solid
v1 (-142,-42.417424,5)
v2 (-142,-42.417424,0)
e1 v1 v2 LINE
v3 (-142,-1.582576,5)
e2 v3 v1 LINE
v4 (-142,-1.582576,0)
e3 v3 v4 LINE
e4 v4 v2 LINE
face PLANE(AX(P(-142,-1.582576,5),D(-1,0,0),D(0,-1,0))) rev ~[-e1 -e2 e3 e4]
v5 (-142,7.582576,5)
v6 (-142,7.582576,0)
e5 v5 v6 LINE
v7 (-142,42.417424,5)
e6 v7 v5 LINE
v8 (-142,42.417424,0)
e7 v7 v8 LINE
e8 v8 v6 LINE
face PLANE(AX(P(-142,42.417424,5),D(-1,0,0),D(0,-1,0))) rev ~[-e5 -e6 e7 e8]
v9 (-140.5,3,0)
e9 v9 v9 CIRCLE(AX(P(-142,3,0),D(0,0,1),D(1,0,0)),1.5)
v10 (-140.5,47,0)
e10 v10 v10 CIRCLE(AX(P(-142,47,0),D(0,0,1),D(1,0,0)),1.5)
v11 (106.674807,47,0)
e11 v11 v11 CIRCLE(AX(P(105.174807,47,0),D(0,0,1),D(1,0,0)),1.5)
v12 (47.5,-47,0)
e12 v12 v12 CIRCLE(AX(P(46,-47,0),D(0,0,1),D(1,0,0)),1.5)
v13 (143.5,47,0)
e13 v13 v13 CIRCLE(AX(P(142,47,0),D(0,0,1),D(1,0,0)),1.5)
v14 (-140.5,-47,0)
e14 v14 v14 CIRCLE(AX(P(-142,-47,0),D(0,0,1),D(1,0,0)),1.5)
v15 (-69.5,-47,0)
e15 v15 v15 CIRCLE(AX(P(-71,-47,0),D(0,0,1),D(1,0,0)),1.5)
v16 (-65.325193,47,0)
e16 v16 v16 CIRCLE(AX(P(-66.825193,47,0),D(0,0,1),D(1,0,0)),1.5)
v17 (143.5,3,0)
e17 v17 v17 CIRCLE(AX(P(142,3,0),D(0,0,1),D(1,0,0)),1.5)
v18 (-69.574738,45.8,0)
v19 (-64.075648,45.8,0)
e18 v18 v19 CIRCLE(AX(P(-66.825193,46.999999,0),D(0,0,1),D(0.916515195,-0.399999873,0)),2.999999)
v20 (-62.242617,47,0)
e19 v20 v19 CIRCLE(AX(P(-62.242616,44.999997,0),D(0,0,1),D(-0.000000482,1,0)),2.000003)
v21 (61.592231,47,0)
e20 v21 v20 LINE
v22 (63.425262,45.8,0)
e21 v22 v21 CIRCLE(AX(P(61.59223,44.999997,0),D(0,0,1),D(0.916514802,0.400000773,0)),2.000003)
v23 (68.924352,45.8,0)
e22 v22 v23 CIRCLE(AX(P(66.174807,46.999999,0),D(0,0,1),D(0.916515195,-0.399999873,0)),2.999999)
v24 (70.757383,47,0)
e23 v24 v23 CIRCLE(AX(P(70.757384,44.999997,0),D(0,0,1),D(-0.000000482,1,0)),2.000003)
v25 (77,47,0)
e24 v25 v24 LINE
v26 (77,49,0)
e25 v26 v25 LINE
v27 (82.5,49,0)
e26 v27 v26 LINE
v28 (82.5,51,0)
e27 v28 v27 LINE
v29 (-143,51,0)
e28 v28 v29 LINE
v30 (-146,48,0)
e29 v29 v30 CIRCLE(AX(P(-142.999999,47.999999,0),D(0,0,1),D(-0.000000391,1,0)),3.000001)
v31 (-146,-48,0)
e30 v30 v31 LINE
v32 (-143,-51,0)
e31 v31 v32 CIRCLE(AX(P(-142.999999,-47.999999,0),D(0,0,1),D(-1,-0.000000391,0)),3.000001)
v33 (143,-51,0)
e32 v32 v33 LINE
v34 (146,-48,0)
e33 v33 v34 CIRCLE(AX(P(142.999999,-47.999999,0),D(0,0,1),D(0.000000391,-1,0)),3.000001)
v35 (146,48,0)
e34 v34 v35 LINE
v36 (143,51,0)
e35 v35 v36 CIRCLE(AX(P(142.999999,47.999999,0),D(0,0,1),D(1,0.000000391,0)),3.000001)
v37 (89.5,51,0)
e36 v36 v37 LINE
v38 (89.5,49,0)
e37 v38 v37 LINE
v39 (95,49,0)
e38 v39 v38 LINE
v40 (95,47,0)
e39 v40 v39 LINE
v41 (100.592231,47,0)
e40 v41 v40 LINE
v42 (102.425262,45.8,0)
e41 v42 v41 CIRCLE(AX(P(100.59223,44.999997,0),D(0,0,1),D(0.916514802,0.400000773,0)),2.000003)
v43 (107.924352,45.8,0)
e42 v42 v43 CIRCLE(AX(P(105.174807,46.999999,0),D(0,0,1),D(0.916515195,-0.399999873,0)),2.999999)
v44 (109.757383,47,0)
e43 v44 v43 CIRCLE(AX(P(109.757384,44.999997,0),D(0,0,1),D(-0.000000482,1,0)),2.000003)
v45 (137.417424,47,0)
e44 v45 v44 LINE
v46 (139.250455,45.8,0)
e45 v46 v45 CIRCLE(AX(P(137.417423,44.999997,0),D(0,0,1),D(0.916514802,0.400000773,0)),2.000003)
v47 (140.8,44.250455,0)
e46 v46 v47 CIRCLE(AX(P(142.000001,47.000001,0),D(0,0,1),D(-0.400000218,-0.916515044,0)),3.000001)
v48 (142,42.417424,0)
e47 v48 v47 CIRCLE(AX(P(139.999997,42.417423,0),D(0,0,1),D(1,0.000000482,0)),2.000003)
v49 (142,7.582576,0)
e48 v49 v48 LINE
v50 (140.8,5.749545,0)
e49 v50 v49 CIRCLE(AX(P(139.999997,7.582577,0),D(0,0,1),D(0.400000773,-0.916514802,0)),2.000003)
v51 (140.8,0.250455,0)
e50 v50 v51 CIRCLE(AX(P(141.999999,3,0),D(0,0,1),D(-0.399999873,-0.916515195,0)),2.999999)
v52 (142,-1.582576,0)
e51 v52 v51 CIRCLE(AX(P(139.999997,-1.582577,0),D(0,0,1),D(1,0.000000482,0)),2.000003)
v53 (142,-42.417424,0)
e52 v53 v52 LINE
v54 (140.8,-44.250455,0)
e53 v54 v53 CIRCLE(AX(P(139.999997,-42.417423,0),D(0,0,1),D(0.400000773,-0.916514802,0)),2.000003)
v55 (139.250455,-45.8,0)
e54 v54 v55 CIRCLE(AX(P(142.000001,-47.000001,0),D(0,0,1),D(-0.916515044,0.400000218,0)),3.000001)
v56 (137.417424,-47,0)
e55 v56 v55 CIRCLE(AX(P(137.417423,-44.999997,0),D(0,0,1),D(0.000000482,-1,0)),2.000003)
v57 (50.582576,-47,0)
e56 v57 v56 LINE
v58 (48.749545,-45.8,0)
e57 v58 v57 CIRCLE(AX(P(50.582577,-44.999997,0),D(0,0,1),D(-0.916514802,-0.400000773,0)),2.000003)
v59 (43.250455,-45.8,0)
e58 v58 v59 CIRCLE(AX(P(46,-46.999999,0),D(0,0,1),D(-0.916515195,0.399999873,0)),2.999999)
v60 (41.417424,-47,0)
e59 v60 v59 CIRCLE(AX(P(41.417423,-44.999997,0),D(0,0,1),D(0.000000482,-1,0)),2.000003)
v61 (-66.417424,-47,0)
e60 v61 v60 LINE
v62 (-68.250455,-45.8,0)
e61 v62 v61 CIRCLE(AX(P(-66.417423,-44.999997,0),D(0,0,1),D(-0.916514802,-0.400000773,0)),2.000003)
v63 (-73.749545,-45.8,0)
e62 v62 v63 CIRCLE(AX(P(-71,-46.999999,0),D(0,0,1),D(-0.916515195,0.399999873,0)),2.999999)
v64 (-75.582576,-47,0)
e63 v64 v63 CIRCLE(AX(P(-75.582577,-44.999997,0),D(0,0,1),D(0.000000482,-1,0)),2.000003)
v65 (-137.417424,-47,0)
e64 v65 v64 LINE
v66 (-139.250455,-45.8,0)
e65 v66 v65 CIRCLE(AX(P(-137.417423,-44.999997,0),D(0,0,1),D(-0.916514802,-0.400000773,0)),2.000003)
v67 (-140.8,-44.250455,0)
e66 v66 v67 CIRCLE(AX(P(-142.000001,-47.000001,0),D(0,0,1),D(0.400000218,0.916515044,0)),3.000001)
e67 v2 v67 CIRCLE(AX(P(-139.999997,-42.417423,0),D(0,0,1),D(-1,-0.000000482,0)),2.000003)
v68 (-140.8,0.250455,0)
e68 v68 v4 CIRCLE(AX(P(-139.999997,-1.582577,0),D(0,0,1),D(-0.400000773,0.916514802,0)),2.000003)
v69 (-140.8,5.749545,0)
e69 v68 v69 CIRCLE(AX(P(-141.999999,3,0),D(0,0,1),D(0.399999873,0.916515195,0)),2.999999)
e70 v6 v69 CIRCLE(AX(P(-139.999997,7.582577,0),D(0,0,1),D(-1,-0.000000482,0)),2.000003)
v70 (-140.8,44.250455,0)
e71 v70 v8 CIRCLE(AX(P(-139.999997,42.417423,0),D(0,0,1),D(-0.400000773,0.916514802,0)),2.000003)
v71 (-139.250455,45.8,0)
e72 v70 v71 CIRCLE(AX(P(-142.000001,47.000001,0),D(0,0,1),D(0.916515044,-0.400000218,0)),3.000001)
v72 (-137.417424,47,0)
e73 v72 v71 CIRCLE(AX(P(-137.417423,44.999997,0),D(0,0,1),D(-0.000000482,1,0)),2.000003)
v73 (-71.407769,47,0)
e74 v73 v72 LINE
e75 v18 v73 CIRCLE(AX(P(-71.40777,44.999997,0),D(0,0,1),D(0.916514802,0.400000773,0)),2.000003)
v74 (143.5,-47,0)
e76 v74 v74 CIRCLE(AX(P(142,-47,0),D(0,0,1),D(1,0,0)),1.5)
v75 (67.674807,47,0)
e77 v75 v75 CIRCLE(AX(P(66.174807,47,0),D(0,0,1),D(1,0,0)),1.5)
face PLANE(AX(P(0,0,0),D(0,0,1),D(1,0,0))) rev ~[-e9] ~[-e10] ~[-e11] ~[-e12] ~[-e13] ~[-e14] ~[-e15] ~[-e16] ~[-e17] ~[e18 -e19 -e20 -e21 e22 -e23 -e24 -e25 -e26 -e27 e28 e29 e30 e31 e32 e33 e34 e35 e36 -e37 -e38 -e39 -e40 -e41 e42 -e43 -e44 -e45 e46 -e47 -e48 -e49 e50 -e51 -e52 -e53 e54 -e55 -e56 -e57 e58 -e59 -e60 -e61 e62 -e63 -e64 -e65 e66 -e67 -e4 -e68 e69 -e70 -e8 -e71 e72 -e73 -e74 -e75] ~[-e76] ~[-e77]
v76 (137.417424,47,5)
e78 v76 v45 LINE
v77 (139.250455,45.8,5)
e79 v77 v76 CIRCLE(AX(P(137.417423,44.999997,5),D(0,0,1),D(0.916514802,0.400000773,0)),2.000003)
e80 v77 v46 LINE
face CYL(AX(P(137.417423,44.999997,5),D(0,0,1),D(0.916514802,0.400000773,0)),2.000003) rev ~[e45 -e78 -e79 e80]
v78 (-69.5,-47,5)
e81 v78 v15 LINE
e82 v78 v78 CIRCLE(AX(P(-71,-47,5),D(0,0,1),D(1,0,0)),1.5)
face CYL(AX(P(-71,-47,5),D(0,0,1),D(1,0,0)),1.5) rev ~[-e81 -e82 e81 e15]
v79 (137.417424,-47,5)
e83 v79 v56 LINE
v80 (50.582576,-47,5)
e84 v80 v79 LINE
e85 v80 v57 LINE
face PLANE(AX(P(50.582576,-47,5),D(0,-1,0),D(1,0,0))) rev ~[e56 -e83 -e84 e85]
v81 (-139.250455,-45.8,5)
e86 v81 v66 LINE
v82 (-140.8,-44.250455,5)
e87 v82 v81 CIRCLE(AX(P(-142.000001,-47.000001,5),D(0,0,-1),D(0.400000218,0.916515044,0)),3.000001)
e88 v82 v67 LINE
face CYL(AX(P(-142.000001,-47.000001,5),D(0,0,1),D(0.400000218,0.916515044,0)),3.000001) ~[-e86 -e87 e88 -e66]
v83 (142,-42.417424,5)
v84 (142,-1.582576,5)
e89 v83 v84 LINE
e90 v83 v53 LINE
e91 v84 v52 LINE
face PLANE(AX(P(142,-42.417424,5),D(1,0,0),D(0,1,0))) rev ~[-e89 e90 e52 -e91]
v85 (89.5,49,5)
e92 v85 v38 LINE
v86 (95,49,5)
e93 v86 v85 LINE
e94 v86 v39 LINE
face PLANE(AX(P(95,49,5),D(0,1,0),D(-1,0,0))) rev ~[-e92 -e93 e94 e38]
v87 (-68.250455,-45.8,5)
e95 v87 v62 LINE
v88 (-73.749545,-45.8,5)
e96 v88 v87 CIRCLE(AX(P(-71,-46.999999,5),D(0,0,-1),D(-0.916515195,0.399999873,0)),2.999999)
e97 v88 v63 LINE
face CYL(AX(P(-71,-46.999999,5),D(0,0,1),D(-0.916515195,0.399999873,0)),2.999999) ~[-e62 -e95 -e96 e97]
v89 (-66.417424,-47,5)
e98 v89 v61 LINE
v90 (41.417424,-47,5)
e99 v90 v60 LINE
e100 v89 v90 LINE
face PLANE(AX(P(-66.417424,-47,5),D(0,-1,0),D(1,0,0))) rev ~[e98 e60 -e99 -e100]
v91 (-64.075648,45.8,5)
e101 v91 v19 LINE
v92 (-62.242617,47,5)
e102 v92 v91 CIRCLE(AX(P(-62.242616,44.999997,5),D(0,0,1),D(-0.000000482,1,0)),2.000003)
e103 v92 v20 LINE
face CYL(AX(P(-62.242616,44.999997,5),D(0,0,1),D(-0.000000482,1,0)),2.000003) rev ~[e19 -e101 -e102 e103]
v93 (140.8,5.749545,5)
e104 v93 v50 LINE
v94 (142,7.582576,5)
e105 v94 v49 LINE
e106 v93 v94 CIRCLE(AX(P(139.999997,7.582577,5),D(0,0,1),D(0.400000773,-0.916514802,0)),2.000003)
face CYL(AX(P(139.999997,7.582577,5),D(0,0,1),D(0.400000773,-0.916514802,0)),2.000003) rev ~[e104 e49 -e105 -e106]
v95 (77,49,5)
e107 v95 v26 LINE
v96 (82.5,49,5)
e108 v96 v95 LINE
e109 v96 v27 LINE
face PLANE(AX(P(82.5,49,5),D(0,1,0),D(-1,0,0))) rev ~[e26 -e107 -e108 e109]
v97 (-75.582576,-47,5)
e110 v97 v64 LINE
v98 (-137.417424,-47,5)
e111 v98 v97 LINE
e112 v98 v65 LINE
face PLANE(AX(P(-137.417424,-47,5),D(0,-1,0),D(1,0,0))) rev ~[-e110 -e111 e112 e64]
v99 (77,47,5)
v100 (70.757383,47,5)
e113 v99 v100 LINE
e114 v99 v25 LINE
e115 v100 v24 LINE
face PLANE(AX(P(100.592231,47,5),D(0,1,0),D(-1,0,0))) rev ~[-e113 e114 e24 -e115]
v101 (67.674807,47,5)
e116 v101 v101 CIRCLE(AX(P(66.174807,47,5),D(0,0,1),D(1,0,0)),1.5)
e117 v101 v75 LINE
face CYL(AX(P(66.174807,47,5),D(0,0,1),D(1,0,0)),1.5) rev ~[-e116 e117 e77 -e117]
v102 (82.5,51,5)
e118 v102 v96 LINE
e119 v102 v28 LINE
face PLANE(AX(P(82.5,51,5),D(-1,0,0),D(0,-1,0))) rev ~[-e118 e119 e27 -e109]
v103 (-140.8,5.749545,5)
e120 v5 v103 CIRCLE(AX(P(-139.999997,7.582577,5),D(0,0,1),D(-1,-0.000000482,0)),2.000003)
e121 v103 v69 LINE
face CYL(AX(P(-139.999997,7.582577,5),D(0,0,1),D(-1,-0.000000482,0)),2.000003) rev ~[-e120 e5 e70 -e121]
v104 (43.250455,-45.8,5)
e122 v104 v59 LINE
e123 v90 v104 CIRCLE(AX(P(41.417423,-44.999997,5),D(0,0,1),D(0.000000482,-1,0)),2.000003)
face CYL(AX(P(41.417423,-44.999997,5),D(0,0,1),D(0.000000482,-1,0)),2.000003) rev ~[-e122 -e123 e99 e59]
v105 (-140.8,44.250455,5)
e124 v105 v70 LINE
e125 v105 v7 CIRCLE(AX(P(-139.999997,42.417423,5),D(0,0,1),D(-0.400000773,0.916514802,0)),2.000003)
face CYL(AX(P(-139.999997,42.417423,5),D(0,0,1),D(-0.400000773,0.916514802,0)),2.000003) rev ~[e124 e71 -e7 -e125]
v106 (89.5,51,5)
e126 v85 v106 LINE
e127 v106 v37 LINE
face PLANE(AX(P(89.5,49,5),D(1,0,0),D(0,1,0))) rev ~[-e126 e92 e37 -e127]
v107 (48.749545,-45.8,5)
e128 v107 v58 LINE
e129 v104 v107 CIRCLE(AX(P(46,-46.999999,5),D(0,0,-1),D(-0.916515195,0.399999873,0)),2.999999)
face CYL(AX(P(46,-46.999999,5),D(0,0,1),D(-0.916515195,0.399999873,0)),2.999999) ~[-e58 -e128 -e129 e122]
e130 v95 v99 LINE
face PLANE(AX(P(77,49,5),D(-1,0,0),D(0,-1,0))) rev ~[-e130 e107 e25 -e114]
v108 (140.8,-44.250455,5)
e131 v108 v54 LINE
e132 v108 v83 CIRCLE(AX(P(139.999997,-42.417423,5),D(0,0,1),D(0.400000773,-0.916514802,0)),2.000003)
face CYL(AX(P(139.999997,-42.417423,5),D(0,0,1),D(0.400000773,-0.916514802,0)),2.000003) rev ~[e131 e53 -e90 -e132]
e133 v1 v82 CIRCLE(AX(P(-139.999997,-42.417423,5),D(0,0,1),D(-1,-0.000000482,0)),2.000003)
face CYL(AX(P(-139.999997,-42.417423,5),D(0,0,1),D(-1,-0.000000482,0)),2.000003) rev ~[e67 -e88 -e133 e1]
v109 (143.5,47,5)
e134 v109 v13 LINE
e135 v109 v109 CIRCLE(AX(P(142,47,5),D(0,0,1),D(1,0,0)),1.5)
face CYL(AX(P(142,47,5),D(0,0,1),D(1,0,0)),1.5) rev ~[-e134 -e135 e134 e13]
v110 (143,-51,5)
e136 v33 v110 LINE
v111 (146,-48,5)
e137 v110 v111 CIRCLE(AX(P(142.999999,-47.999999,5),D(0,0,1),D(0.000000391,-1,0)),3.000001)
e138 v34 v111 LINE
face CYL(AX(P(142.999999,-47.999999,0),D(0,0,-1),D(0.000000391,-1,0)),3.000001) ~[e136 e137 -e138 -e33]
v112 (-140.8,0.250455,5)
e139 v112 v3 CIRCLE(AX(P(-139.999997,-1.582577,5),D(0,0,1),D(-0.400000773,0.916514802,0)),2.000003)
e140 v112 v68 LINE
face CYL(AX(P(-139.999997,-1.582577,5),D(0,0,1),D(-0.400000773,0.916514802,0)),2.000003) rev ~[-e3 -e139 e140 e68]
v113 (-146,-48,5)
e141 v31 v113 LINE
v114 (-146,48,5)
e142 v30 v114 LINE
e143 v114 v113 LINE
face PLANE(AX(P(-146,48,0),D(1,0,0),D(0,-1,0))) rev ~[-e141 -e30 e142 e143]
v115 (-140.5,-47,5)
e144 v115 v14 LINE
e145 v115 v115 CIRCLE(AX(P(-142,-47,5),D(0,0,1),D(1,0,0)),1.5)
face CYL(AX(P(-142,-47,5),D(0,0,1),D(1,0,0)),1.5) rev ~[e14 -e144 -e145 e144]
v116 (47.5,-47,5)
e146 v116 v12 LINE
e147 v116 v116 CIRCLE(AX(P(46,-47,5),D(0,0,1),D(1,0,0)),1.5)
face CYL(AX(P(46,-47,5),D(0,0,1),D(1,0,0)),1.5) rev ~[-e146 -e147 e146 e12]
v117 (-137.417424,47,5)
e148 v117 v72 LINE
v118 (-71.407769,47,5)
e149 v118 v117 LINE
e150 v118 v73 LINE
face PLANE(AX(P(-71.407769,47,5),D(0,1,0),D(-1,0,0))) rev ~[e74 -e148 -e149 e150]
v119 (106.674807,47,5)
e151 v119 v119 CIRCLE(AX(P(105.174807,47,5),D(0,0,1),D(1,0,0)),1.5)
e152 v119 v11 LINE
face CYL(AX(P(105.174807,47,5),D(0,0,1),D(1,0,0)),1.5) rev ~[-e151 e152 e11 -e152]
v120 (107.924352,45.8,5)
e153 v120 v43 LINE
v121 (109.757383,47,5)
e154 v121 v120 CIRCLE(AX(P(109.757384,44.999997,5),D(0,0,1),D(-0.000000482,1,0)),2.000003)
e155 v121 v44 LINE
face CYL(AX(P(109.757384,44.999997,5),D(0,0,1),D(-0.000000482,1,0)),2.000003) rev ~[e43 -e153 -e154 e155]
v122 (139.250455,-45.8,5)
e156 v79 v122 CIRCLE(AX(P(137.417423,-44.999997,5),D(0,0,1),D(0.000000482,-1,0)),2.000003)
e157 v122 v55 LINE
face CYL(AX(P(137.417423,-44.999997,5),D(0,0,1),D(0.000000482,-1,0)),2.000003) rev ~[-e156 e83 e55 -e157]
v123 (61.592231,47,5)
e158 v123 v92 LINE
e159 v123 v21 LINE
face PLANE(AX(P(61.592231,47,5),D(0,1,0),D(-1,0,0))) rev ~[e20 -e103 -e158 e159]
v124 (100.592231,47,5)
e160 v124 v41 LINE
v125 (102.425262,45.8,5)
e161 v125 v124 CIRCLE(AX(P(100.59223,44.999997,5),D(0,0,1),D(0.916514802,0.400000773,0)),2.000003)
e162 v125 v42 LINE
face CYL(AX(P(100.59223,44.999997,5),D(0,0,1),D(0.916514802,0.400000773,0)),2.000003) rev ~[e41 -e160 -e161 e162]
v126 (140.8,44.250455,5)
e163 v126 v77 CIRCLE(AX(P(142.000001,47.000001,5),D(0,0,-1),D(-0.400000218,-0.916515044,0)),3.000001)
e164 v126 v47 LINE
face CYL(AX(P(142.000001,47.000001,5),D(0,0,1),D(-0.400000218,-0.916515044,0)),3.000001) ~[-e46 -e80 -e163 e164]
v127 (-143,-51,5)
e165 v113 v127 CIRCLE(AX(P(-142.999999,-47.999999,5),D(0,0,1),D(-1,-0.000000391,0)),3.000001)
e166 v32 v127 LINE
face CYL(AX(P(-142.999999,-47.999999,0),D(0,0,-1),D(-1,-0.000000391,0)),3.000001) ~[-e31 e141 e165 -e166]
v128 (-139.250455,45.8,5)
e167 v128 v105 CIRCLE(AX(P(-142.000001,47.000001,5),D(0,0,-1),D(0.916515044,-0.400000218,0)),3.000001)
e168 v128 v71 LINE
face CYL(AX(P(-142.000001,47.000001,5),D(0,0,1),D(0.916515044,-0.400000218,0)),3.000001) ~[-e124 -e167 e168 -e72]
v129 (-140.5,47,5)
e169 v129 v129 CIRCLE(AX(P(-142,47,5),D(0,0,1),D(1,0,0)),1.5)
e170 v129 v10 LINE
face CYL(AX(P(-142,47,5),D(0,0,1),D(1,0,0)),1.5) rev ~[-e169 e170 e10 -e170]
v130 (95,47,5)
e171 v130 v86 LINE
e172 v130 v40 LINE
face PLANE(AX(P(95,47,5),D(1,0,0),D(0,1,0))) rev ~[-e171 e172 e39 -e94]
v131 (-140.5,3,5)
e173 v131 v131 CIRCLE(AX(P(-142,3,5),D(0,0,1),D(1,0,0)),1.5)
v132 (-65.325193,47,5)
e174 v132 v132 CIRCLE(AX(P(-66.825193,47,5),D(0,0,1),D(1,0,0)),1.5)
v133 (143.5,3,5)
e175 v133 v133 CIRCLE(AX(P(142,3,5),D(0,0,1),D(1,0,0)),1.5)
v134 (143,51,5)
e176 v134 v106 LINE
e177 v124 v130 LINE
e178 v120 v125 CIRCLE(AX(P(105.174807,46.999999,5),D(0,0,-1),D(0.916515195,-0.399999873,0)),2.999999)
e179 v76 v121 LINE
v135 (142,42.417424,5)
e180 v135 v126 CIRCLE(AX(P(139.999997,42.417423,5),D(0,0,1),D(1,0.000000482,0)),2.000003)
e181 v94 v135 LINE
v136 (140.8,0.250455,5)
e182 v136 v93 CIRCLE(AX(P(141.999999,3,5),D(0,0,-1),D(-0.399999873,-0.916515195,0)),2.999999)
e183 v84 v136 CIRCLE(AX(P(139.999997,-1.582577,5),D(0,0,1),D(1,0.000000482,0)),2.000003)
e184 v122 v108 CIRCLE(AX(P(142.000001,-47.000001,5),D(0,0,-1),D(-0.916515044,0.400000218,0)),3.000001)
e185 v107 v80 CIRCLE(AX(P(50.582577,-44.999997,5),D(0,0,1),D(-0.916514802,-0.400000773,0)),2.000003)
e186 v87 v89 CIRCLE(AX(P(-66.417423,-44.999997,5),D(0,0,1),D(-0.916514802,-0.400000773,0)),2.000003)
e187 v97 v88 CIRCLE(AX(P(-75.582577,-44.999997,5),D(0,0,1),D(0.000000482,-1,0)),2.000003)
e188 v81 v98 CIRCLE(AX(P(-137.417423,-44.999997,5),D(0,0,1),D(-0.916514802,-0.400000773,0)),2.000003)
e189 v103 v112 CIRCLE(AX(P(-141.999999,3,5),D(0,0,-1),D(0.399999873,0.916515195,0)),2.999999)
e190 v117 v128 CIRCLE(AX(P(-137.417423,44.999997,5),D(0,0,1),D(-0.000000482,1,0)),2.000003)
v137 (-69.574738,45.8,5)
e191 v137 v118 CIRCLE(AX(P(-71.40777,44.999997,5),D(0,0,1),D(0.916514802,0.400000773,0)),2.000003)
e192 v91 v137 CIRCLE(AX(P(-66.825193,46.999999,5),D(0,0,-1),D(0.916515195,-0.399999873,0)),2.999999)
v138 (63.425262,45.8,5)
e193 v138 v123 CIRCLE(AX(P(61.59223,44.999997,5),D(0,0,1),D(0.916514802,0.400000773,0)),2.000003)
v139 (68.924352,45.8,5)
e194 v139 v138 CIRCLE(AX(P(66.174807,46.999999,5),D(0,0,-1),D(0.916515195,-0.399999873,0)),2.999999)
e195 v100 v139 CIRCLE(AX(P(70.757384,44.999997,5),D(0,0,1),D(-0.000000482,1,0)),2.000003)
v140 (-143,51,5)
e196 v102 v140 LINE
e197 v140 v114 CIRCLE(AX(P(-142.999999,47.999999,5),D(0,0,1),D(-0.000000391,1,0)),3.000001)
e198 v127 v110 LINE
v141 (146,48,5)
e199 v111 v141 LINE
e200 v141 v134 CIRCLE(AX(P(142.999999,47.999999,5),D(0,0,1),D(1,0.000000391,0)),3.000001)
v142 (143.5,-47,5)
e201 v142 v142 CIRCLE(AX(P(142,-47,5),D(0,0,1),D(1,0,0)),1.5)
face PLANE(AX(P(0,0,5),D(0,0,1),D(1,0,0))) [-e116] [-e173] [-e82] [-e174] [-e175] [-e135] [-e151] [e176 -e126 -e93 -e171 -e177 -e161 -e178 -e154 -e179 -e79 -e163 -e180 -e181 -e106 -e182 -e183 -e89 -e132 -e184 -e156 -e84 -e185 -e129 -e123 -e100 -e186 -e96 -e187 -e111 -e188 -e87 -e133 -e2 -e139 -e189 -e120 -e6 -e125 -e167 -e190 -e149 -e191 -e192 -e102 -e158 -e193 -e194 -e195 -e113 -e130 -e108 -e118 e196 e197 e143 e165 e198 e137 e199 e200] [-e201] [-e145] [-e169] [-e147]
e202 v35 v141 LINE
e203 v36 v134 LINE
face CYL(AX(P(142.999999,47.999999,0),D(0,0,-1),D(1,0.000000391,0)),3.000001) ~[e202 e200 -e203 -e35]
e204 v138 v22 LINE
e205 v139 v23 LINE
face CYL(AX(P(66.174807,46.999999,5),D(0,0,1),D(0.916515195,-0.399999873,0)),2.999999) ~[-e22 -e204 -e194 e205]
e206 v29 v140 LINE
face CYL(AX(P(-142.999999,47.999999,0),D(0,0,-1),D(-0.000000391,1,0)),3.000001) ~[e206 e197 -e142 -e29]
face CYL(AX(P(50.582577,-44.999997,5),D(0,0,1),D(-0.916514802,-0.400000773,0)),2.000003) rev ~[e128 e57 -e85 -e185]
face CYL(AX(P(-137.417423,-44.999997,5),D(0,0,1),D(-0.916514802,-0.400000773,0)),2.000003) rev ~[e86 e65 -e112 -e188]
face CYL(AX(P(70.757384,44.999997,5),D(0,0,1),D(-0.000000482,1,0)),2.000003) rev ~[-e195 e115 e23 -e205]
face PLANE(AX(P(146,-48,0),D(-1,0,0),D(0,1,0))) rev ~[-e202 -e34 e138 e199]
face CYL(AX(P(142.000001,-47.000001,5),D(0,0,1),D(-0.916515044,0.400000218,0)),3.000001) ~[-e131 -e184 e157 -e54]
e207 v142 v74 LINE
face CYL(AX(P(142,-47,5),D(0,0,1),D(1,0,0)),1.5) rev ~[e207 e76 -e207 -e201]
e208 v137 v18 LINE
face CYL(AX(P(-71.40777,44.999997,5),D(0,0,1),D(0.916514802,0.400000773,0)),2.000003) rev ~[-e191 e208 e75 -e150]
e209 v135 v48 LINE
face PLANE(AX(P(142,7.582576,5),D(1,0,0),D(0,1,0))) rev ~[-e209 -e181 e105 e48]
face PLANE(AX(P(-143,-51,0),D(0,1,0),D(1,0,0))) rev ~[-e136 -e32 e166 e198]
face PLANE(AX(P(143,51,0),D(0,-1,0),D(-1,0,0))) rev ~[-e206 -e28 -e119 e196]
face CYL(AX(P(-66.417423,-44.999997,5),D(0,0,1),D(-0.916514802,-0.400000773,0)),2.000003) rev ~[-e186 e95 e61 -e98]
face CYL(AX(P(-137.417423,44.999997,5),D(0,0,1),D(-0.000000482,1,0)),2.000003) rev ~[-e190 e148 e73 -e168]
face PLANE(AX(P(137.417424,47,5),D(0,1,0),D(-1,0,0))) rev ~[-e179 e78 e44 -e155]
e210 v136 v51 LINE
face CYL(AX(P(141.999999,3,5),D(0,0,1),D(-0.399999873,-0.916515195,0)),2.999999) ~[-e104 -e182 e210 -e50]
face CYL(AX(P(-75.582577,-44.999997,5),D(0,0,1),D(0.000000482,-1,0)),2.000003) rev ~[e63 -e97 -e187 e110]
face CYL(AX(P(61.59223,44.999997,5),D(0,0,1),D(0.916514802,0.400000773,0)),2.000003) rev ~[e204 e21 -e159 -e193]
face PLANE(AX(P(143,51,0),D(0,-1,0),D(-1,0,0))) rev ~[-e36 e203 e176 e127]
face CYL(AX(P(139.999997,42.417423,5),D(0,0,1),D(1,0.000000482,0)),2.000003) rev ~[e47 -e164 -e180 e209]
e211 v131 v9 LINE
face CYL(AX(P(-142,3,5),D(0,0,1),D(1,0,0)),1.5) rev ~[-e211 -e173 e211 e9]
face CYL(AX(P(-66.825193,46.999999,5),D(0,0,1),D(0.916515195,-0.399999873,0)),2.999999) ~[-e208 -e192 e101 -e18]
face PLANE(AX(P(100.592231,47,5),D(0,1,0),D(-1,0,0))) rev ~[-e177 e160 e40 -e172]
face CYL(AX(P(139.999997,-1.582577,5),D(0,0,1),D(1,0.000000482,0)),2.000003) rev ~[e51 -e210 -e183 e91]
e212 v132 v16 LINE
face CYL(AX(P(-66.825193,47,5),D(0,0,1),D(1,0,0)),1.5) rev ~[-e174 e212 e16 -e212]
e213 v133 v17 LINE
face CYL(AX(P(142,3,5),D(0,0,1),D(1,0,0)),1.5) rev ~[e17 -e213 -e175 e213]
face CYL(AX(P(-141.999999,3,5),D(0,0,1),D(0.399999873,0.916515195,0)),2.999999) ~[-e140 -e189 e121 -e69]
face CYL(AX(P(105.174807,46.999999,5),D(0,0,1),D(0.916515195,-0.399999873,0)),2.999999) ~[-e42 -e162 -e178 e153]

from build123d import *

# Parameters (mm, degrees)
F1_DEPTH = 5
F2_R     = 1.1
F3_DEPTH = 5.001
F4_R     = 1.5
F5_DEPTH = 5.001
F7_DEPTH = 5.001


with BuildPart() as f1:
    # F0 (on Top) → F1 (new body)
    with BuildSketch(Plane.XY):
        with BuildLine():
            ThreePointArc((146, 48), (145.12132, 50.12132), (143, 51))
            Line((143, 51), (-143, 51))
            ThreePointArc((-143, 51), (-145.12132, 50.12132), (-146, 48))
            Line((-146, 48), (-146, -48))
            ThreePointArc((-146, -48), (-145.12132, -50.12132), (-143, -51))
            Line((-143, -51), (143, -51))
            ThreePointArc((143, -51), (145.12132, -50.12132), (146, -48))
            Line((146, -48), (146, 48))
        make_face()
    extrude(amount=F1_DEPTH)

    # F2 (on face) → F3 (cut, through all)
    with BuildSketch(Plane.XY.offset(5)):
        with Locations((-142, 47)):
            Circle(F2_R)
        with Locations((142, 47)):
            Circle(F2_R)
        with Locations((-66.825193, 47)):
            Circle(F2_R)
        with Locations((66.174807, 47)):
            Circle(F2_R)
        with Locations((-142, -47)):
            Circle(F2_R)
        with Locations((142, -47)):
            Circle(F2_R)
        with Locations((-71, -47)):
            Circle(F2_R)
        with Locations((46, -47)):
            Circle(F2_R)
        with Locations((142, 3)):
            Circle(F2_R)
        with Locations((-142, 3)):
            Circle(F2_R)
    extrude(amount=-F3_DEPTH, mode=Mode.SUBTRACT)

    # F4 (on face) → F5 (cut, through all)
    with BuildSketch(Plane.XY.offset(5)):
        with BuildLine():
            Line((-71.407769, 47), (-137.417424, 47))
            ThreePointArc((-137.417424, 47), (-138.512869, 46.67332), (-139.250455, 45.8))
            ThreePointArc((-139.250455, 45.8), (-139.87868, 44.87868), (-140.8, 44.250455))
            ThreePointArc((-140.8, 44.250455), (-141.67332, 43.512869), (-142, 42.417424))
            Line((-142, 42.417424), (-142, 7.582576))
            ThreePointArc((-142, 7.582576), (-141.67332, 6.487131), (-140.8, 5.749545))
            ThreePointArc((-140.8, 5.749545), (-139, 3), (-140.8, 0.250455))
            ThreePointArc((-140.8, 0.250455), (-141.67332, -0.487131), (-142, -1.582576))
            Line((-142, -1.582576), (-142, -42.417424))
            ThreePointArc((-142, -42.417424), (-141.67332, -43.512869), (-140.8, -44.250455))
            ThreePointArc((-140.8, -44.250455), (-139.87868, -44.87868), (-139.250455, -45.8))
            ThreePointArc((-139.250455, -45.8), (-138.512869, -46.67332), (-137.417424, -47))
            Line((-137.417424, -47), (-75.582576, -47))
            ThreePointArc((-75.582576, -47), (-74.487131, -46.67332), (-73.749545, -45.8))
            ThreePointArc((-73.749545, -45.8), (-71, -44), (-68.250455, -45.8))
            ThreePointArc((-68.250455, -45.8), (-67.512869, -46.67332), (-66.417424, -47))
            Line((-66.417424, -47), (41.417424, -47))
            ThreePointArc((41.417424, -47), (42.512869, -46.67332), (43.250455, -45.8))
            ThreePointArc((43.250455, -45.8), (46, -44), (48.749545, -45.8))
            ThreePointArc((48.749545, -45.8), (49.487131, -46.67332), (50.582576, -47))
            Line((50.582576, -47), (137.417424, -47))
            ThreePointArc((137.417424, -47), (138.512869, -46.67332), (139.250455, -45.8))
            ThreePointArc((139.250455, -45.8), (139.87868, -44.87868), (140.8, -44.250455))
            ThreePointArc((140.8, -44.250455), (141.67332, -43.512869), (142, -42.417424))
            Line((142, -42.417424), (142, -1.582576))
            ThreePointArc((142, -1.582576), (141.67332, -0.487131), (140.8, 0.250455))
            ThreePointArc((140.8, 0.250455), (139, 3), (140.8, 5.749545))
            ThreePointArc((140.8, 5.749545), (141.67332, 6.487131), (142, 7.582576))
            Line((142, 7.582576), (142, 42.417424))
            ThreePointArc((142, 42.417424), (141.67332, 43.512869), (140.8, 44.250455))
            ThreePointArc((140.8, 44.250455), (139.87868, 44.87868), (139.250455, 45.8))
            ThreePointArc((139.250455, 45.8), (138.512869, 46.67332), (137.417424, 47))
            Line((137.417424, 47), (109.757383, 47))
            ThreePointArc((109.757383, 47), (108.661938, 46.67332), (107.924352, 45.8))
            ThreePointArc((107.924352, 45.8), (105.174807, 44), (102.425262, 45.8))
            ThreePointArc((102.425262, 45.8), (101.687676, 46.67332), (100.592231, 47))
            Line((100.592231, 47), (70.757383, 47))
            ThreePointArc((70.757383, 47), (69.661938, 46.67332), (68.924352, 45.8))
            ThreePointArc((68.924352, 45.8), (66.174807, 44), (63.425262, 45.8))
            ThreePointArc((63.425262, 45.8), (62.687676, 46.67332), (61.592231, 47))
            Line((61.592231, 47), (-62.242617, 47))
            ThreePointArc((-62.242617, 47), (-63.338062, 46.67332), (-64.075648, 45.8))
            ThreePointArc((-64.075648, 45.8), (-66.825193, 44), (-69.574738, 45.8))
            ThreePointArc((-69.574738, 45.8), (-70.312324, 46.67332), (-71.407769, 47))
        make_face()
        with Locations((-142, 47)):
            Circle(F4_R)
        with Locations((-66.825193, 47)):
            Circle(F4_R)
        with Locations((-142, 3)):
            Circle(F4_R)
        with Locations((-142, -47)):
            Circle(F4_R)
        with Locations((66.174807, 47)):
            Circle(F4_R)
        with Locations((142, 3)):
            Circle(F4_R)
        with Locations((142, -47)):
            Circle(F4_R)
        with Locations((46, -47)):
            Circle(F4_R)
        with Locations((-71, -47)):
            Circle(F4_R)
        with Locations((142, 47)):
            Circle(F4_R)
        with Locations((105.174807, 47)):
            Circle(F4_R)
    extrude(amount=-F5_DEPTH, mode=Mode.SUBTRACT)

    # F6 (on face) → F7 (cut, through all)
    with BuildSketch(Plane.XY.offset(5)):
        Polygon((89.5, 51), (82.5, 51), (82.5, 49), (77, 49), (77, 47), (95, 47), (95, 49), (89.5, 49), align=None)
    extrude(amount=-F7_DEPTH, mode=Mode.SUBTRACT)


solid = f1.part
